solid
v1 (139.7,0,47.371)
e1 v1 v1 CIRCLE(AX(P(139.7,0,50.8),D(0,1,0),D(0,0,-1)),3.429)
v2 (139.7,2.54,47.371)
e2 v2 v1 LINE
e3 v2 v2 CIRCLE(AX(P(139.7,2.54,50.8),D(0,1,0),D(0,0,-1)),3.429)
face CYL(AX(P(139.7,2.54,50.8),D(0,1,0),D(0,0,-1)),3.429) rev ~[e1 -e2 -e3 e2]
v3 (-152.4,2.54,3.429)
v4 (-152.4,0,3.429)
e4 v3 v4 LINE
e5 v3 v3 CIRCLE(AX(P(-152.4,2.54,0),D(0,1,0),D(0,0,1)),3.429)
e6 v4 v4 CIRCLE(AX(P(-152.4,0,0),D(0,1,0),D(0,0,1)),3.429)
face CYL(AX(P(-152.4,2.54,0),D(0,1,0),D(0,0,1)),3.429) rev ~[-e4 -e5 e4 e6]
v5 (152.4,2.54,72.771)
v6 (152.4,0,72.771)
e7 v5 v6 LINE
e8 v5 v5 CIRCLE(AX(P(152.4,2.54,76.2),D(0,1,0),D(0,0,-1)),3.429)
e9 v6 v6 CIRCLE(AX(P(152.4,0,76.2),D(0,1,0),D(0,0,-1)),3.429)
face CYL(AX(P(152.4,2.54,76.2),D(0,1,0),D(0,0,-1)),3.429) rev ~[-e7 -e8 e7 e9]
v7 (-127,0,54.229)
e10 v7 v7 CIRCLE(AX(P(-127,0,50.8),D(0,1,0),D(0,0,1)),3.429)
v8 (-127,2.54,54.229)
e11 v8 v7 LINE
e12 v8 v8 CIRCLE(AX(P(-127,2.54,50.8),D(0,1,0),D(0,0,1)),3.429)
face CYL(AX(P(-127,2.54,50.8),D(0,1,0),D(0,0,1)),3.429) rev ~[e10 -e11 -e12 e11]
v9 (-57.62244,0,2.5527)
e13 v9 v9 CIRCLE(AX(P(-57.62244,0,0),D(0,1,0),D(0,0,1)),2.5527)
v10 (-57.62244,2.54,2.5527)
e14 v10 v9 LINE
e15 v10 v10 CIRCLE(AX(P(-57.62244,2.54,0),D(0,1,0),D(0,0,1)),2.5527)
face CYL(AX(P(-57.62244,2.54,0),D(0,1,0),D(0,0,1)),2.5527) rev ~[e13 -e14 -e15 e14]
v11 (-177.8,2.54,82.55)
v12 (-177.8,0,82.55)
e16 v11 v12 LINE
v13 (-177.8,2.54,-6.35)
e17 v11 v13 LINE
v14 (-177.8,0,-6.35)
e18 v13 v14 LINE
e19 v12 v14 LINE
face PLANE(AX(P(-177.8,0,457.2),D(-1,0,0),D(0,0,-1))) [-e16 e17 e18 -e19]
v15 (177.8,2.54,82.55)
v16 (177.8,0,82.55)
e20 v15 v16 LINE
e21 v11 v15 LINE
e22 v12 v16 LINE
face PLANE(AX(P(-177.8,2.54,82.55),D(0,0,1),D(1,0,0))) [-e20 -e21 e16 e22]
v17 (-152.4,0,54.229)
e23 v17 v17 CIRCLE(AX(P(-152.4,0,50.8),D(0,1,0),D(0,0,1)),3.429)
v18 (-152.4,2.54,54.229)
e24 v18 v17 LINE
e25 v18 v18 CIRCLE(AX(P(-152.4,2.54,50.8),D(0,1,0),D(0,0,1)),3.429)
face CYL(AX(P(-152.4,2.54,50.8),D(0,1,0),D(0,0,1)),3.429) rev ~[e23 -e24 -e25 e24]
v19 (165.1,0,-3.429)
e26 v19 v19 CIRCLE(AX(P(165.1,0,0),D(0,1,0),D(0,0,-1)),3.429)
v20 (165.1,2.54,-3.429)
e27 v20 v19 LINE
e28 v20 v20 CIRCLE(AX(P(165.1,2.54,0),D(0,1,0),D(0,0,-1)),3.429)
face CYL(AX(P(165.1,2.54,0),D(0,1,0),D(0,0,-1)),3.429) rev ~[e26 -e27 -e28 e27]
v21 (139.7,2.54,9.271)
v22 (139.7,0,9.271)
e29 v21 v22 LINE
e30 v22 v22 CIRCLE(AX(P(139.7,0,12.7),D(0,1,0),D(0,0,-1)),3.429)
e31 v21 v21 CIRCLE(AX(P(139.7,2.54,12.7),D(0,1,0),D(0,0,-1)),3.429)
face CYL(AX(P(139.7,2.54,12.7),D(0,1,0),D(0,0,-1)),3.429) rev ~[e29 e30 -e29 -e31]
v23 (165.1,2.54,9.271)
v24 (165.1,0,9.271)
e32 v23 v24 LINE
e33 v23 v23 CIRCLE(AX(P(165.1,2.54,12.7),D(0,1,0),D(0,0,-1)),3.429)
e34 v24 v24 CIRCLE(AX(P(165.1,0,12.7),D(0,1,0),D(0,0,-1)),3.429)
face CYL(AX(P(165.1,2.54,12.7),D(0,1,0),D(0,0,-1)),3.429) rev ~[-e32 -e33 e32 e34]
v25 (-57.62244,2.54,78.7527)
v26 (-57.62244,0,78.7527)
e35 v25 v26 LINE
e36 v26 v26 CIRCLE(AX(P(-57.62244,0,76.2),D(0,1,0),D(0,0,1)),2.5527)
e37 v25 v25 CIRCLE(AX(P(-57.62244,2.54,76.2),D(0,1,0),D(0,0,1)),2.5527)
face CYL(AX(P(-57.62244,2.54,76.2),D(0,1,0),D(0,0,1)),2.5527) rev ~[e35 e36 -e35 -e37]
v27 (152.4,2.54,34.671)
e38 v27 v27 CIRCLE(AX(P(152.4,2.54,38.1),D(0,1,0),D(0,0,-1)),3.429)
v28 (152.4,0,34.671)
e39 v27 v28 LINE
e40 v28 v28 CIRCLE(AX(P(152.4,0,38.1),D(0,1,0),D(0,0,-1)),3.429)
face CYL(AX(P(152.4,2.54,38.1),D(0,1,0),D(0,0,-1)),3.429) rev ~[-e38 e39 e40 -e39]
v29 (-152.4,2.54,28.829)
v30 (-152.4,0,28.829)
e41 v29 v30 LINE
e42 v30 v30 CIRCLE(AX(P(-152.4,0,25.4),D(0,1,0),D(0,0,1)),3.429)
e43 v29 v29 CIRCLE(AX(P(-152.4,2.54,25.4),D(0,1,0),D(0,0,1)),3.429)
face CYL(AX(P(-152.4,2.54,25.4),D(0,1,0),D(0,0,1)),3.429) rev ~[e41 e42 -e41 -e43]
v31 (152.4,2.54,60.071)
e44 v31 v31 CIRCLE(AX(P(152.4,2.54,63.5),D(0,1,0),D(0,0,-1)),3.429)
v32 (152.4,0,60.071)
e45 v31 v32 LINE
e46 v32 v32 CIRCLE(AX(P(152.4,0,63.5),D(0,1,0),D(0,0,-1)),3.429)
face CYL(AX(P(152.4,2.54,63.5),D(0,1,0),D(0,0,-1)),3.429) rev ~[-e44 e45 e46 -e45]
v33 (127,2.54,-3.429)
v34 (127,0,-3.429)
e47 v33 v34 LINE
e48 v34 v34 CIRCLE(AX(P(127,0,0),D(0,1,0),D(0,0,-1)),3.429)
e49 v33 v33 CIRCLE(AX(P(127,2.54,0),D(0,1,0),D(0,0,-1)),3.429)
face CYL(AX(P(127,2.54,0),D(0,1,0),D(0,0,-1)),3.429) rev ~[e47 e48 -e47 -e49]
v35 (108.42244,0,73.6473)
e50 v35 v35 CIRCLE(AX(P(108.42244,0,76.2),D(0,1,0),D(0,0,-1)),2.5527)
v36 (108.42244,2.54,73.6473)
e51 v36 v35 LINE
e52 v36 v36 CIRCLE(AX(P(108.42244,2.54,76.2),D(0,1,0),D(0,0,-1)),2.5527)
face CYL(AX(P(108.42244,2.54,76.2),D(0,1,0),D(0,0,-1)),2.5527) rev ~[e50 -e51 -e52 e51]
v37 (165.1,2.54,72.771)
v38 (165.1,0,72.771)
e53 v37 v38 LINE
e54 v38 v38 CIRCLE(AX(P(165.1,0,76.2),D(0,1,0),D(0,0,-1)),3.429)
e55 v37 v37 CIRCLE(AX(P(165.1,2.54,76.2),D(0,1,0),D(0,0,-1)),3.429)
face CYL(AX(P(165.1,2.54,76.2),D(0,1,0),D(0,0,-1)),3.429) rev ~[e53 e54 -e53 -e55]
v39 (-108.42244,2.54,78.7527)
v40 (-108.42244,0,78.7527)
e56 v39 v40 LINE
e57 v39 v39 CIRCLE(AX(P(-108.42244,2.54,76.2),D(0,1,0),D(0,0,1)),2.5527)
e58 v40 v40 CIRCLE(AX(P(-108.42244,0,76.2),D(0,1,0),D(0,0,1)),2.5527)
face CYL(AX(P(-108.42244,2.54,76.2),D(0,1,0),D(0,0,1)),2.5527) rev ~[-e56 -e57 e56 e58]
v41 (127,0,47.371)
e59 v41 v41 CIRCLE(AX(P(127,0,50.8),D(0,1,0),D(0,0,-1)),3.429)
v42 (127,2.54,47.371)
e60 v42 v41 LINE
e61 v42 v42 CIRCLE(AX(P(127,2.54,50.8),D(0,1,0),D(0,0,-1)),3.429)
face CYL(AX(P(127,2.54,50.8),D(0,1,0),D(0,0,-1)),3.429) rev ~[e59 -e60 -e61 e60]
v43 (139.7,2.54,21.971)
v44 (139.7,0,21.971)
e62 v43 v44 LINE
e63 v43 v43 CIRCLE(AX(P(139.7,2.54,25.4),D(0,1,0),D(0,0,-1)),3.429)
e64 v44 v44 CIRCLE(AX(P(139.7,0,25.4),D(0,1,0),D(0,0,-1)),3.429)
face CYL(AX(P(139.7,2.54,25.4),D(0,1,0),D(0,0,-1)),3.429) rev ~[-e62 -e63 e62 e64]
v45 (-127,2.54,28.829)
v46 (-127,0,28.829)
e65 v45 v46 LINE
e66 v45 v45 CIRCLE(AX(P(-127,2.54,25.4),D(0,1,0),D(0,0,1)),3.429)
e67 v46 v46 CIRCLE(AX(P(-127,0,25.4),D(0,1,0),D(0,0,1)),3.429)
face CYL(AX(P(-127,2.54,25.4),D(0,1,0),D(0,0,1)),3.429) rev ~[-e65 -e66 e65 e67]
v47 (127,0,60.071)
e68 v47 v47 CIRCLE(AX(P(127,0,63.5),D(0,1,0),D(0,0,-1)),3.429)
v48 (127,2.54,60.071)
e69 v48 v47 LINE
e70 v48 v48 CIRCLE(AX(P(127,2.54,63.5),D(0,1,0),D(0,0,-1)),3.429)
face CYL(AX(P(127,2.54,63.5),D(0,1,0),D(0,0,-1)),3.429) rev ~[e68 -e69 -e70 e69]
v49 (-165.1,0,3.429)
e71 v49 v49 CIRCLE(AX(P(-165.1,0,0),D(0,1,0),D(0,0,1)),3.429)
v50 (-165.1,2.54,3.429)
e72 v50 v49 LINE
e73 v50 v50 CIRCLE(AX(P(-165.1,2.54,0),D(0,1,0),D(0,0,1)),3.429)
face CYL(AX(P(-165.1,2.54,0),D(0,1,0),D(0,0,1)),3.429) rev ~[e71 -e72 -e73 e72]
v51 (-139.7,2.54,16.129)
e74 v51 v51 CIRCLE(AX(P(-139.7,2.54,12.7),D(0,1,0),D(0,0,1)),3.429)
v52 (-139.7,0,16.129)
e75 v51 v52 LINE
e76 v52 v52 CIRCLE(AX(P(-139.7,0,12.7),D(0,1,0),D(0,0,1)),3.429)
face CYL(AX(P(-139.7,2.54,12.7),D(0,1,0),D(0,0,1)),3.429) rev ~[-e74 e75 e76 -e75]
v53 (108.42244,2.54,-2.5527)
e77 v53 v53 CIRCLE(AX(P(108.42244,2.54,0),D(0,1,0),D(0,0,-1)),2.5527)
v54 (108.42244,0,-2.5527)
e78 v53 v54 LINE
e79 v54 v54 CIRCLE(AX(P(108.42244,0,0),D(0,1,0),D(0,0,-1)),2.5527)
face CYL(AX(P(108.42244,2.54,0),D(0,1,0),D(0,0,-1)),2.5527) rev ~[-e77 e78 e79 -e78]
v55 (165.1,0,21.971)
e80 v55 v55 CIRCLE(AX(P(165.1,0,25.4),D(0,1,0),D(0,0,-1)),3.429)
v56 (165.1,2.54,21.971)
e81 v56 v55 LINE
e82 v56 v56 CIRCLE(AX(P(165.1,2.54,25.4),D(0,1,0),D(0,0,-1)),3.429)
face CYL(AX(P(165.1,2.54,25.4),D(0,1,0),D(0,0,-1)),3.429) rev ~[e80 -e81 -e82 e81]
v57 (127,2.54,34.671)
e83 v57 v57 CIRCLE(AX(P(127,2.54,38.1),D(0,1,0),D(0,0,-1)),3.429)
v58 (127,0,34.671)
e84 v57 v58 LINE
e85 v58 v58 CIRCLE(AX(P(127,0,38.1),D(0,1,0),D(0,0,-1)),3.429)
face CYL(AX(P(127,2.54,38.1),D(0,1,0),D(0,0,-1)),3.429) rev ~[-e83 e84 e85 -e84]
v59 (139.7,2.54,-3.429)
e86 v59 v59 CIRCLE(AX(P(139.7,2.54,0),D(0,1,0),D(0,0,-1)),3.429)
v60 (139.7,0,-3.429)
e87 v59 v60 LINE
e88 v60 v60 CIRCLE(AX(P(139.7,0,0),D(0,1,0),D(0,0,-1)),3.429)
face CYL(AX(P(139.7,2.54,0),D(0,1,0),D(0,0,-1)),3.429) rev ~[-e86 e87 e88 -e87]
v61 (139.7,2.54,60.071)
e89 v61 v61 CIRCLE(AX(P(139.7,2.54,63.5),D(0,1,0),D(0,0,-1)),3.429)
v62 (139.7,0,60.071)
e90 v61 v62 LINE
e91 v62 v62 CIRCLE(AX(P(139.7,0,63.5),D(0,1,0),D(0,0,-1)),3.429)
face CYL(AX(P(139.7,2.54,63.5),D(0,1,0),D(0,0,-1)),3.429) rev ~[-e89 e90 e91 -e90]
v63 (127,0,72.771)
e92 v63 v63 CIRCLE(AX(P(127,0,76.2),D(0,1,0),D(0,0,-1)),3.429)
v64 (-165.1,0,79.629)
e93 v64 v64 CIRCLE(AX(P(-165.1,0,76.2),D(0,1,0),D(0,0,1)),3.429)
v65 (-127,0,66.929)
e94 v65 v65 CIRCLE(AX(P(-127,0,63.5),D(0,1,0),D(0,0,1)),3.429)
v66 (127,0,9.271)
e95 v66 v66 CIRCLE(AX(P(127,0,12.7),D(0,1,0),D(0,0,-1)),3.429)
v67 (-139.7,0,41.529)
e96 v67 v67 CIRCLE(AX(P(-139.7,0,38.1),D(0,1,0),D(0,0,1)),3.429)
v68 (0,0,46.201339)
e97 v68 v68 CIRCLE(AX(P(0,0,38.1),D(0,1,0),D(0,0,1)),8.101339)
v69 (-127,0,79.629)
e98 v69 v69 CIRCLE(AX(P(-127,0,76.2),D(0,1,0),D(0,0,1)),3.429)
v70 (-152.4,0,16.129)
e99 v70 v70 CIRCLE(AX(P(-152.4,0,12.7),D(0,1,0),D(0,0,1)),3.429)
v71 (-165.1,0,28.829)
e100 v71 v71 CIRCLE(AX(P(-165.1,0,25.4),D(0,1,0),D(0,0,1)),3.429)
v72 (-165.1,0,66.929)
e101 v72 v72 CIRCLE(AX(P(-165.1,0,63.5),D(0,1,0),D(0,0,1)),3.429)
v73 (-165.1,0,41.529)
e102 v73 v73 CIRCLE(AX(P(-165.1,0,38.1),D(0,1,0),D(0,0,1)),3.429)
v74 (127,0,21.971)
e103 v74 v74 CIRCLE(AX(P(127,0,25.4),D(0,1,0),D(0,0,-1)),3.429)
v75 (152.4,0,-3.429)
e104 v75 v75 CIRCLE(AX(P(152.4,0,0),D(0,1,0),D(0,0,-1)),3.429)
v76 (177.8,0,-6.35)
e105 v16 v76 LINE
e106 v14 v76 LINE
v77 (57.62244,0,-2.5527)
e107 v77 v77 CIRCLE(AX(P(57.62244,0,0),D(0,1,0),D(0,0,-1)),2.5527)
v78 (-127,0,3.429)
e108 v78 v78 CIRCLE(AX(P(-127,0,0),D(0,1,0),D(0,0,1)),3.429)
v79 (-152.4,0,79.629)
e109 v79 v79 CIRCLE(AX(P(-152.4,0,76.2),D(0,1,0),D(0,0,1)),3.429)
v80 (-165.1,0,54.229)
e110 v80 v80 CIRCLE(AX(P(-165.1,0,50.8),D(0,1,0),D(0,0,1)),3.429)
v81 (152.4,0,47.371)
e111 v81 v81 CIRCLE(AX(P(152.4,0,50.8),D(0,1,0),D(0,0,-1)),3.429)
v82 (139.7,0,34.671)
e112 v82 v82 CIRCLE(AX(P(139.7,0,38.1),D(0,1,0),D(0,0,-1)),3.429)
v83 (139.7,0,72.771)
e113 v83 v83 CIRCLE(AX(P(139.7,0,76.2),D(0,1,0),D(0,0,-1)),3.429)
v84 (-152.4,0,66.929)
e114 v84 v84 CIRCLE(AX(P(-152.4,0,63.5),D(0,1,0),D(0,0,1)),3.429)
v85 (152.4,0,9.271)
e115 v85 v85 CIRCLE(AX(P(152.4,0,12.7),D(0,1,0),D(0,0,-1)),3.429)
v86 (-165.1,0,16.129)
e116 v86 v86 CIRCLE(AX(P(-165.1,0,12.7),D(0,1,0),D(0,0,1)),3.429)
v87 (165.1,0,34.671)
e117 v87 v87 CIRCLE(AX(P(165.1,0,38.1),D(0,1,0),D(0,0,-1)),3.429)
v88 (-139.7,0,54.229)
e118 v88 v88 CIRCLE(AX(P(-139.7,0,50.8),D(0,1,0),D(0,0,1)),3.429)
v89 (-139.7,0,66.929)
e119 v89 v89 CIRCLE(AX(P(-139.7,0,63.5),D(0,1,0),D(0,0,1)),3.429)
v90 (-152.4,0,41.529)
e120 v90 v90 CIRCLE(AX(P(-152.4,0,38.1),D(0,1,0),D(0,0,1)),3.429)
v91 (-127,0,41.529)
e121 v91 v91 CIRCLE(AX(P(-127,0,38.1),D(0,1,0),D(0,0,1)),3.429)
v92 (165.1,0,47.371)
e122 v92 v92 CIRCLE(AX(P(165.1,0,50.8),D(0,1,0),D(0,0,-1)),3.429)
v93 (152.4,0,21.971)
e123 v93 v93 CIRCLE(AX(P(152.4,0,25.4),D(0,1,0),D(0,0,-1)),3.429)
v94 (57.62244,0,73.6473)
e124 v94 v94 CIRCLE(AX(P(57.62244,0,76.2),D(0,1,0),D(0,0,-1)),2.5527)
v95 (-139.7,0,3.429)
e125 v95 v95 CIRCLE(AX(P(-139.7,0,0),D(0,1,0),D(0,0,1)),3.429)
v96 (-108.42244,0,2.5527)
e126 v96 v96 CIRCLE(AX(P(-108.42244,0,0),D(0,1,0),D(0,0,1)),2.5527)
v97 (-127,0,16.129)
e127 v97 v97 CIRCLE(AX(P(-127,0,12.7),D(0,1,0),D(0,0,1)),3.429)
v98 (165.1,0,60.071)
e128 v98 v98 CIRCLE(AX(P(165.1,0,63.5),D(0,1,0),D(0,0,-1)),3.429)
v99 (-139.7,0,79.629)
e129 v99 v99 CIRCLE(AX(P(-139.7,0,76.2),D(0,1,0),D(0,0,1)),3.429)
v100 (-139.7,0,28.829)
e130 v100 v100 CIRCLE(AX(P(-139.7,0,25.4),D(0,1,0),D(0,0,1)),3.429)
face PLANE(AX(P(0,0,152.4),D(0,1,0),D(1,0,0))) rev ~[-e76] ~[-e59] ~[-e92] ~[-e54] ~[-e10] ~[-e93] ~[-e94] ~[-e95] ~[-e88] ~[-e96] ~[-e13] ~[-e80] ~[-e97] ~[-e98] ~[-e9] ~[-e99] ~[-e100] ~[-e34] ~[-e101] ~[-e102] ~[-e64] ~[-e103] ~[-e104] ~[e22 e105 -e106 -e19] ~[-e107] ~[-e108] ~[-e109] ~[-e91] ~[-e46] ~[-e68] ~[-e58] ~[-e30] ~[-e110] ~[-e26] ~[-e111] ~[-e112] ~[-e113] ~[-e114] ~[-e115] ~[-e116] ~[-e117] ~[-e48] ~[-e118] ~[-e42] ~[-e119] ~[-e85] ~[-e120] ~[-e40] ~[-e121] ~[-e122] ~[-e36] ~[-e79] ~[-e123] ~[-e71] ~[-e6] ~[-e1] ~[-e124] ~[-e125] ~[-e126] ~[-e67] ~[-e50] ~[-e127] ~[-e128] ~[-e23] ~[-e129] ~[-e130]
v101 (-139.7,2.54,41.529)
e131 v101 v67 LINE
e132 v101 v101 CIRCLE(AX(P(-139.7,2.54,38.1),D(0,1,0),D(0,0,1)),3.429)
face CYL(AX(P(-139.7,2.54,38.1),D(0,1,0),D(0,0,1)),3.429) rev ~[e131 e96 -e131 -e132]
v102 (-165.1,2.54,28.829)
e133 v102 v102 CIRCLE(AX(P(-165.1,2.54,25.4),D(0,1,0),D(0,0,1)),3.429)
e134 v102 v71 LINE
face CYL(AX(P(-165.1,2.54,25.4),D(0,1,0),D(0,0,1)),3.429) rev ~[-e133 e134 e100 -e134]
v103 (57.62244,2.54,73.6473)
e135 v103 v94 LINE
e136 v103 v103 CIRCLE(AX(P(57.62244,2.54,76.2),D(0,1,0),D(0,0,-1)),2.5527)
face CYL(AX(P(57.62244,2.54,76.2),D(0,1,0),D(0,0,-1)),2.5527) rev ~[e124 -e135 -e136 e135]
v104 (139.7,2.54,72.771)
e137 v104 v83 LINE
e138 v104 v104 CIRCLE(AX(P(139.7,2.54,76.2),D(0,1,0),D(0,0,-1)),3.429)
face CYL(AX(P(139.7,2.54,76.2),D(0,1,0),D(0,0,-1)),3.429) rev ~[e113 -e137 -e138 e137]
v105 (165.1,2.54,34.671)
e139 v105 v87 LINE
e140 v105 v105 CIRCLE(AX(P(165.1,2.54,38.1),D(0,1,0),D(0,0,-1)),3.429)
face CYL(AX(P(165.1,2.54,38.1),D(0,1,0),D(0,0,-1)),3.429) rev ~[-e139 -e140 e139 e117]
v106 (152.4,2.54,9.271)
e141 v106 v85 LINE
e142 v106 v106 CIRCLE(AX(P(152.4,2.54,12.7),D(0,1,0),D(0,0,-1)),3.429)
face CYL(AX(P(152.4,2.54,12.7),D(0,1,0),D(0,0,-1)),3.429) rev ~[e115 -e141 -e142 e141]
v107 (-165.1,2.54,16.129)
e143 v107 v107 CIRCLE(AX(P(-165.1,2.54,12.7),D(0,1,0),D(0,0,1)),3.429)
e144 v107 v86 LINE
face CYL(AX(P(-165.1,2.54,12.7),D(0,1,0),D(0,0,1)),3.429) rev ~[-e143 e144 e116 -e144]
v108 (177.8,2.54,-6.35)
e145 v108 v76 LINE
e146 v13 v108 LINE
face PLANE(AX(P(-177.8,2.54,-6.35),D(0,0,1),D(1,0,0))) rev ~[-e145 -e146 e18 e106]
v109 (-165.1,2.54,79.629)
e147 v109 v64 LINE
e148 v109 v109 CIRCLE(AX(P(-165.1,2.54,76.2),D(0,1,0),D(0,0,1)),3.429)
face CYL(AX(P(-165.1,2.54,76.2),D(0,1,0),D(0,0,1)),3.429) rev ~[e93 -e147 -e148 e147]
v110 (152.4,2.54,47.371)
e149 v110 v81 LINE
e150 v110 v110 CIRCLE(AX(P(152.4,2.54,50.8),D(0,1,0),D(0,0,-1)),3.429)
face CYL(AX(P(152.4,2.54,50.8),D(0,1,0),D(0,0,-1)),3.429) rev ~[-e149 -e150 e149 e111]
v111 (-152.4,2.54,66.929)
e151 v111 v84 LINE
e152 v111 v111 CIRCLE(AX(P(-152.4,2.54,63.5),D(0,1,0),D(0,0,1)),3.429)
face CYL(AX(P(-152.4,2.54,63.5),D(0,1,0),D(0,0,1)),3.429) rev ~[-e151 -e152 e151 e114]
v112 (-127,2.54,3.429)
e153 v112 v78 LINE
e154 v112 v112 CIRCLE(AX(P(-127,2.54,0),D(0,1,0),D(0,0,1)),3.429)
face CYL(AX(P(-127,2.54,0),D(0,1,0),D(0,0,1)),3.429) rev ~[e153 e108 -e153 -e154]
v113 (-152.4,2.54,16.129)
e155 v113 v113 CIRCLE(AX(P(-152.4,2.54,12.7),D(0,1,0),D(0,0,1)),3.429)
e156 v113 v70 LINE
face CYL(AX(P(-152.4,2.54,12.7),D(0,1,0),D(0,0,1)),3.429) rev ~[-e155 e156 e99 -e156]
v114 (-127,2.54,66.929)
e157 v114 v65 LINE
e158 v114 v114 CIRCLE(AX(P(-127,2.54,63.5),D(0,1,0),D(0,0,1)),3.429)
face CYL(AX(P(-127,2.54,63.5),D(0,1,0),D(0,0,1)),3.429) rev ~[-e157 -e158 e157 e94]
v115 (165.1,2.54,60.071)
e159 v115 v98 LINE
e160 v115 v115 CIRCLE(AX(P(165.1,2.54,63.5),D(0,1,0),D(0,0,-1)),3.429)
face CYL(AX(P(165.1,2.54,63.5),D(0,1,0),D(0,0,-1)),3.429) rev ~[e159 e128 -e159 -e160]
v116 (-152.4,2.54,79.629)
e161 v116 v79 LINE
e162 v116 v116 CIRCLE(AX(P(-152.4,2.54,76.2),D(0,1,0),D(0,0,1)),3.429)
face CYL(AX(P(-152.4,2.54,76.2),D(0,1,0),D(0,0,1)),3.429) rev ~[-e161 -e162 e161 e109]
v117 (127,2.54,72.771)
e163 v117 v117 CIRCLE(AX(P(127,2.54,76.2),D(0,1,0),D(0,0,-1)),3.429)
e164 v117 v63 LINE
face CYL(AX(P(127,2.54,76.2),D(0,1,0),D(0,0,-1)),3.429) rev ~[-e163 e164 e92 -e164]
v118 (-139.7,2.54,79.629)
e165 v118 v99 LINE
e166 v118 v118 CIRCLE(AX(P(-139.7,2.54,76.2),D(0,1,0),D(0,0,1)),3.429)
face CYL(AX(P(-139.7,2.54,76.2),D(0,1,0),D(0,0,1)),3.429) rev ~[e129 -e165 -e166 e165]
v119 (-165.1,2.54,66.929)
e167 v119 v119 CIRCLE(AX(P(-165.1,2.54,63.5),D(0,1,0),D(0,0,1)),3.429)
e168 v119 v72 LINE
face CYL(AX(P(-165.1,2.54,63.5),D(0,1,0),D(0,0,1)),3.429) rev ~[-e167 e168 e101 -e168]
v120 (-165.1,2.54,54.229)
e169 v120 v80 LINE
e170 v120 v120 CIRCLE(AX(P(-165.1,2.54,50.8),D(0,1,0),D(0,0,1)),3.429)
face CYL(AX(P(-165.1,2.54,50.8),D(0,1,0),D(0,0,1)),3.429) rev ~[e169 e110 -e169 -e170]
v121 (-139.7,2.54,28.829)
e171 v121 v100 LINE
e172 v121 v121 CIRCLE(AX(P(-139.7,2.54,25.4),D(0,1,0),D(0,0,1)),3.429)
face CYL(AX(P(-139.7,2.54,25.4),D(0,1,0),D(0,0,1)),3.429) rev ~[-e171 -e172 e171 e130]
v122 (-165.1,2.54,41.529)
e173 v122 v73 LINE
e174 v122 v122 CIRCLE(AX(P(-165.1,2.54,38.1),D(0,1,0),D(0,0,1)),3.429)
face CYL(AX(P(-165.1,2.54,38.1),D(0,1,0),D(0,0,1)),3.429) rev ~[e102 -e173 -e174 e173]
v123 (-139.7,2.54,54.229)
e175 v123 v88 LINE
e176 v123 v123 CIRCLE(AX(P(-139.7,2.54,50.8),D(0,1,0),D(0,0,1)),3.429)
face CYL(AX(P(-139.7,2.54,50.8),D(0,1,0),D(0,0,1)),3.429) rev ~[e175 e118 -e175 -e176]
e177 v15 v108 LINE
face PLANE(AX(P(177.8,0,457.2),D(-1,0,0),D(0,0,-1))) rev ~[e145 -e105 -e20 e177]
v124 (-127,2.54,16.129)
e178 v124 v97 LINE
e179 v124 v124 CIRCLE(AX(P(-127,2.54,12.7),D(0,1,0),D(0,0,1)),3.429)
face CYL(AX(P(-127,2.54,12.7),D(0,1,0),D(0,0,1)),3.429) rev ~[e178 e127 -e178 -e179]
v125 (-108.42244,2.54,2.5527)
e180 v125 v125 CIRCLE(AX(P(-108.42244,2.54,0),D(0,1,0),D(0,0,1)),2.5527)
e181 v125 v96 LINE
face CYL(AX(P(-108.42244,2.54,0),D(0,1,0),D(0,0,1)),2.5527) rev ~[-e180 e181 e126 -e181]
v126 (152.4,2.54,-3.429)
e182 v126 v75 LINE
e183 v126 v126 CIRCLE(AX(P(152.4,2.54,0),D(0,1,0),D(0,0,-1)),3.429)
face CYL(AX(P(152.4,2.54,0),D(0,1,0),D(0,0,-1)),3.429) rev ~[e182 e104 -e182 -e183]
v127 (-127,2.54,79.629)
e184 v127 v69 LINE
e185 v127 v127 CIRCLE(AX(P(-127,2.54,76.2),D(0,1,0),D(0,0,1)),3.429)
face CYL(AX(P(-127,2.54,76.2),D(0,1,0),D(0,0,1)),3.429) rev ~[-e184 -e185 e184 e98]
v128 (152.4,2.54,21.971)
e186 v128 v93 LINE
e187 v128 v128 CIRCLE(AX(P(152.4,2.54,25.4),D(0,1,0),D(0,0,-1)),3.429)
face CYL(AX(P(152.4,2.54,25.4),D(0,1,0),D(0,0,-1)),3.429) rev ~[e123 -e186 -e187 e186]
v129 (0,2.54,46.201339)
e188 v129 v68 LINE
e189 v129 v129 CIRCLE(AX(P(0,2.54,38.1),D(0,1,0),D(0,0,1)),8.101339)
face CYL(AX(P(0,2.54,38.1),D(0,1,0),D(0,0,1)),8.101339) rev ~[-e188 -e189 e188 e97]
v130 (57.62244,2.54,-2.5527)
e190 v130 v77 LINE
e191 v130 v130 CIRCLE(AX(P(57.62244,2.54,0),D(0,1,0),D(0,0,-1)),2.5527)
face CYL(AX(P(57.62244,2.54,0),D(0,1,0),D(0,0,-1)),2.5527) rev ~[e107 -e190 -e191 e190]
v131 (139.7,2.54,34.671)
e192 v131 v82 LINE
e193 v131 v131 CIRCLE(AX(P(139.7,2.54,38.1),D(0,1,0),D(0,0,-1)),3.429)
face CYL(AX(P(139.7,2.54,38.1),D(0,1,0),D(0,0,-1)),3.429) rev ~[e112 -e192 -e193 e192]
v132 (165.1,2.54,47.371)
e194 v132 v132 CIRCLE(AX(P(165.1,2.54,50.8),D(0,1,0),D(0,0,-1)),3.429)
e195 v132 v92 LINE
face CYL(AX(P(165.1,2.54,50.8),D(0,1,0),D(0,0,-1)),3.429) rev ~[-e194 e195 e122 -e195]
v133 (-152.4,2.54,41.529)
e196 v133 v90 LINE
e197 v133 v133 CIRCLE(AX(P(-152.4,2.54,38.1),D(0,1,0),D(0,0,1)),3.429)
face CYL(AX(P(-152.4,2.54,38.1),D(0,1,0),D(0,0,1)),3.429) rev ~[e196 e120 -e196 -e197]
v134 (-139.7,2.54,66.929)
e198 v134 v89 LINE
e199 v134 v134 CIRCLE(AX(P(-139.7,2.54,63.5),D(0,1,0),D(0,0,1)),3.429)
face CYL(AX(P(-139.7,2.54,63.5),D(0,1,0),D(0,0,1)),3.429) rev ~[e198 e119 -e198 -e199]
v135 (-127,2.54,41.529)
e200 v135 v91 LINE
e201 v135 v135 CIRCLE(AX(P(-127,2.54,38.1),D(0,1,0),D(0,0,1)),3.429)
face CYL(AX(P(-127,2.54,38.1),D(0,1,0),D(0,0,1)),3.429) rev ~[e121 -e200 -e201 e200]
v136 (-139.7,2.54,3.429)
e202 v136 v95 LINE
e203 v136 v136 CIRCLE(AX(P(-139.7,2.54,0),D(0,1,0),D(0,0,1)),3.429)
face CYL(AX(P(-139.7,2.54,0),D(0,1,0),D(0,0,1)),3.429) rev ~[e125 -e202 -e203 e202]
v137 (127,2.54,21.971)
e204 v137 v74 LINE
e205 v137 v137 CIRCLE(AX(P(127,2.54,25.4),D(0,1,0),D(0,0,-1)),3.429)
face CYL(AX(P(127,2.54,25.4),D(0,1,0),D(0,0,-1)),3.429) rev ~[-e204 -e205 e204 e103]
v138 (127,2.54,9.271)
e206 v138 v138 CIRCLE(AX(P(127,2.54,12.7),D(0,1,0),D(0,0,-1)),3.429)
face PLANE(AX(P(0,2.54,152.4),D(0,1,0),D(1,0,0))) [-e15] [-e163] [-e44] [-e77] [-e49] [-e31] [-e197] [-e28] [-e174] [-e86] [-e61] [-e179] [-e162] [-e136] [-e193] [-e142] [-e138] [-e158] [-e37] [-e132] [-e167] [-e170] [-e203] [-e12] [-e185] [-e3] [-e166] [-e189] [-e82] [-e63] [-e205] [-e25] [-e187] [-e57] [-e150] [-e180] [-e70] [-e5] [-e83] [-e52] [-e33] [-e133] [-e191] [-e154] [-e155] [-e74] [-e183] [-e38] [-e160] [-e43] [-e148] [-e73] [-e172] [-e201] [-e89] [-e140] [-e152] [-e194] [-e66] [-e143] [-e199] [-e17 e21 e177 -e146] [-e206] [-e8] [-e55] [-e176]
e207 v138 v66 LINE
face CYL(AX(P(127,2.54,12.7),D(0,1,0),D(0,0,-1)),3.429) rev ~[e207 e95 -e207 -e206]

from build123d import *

# Parameters (mm, degrees)
SKETCH1_W           = 355.6
SKETCH1_H           = 609.6
BOSS_EXTRUDE1_DEPTH = 2.54
SKETCH2_R           = 2.5527
SKETCH2_R_2         = 3.429
SKETCH2_W           = 355.6
SKETCH2_H           = 146.05
SKETCH2_H_2         = 374.65
CUT_EXTRUDE1_DEPTH  = 491.562056829
SKETCH3_R           = 8.101339051
CUT_EXTRUDE2_DEPTH  = 197.045387857


with BuildPart() as part:
    # Sketch1 → Boss-Extrude1 (new body)
    with BuildSketch(Plane(origin=(0, 0, 0), x_dir=(1, 0, 0), z_dir=(0, 1, 0))):
        with Locations((0, -152.4)):
            Rectangle(SKETCH1_W, SKETCH1_H)
    extrude(amount=BOSS_EXTRUDE1_DEPTH)

    # Sketch2 → Cut-Extrude1 (cut, through all)
    with BuildSketch(Plane(origin=(0, 2.54, 0), x_dir=(1, 0, 0), z_dir=(0, 1, 0))):
        with Locations(Location((-108.42244, 0, 0), (0, 0, 270))):
            Circle(SKETCH2_R)
        with Locations(Location((-57.62244, 0, 0), (0, 0, 270))):
            Circle(SKETCH2_R)
        with Locations(Location((-57.62244, -76.2, 0), (0, 0, 270))):
            Circle(SKETCH2_R)
        with Locations(Location((-108.42244, -76.2, 0), (0, 0, 270))):
            Circle(SKETCH2_R)
        with Locations(Location((108.42244, -76.2, 0), (0, 0, 90))):
            Circle(SKETCH2_R)
        with Locations(Location((57.62244, -76.2, 0), (0, 0, 90))):
            Circle(SKETCH2_R)
        with Locations(Location((57.62244, 0, 0), (0, 0, 90))):
            Circle(SKETCH2_R)
        with Locations(Location((108.42244, 0, 0), (0, 0, 90))):
            Circle(SKETCH2_R)
        with Locations(Location((-139.7, 0, 0), (0, 0, 270))):
            Circle(SKETCH2_R_2)
        with Locations(Location((-127, 0, 0), (0, 0, 270))):
            Circle(SKETCH2_R_2)
        with Locations(Location((-139.7, -12.7, 0), (0, 0, 270))):
            Circle(SKETCH2_R_2)
        with Locations(Location((-127, -12.7, 0), (0, 0, 270))):
            Circle(SKETCH2_R_2)
        with Locations(Location((-139.7, -25.4, 0), (0, 0, 270))):
            Circle(SKETCH2_R_2)
        with Locations(Location((-127, -25.4, 0), (0, 0, 270))):
            Circle(SKETCH2_R_2)
        with Locations(Location((-139.7, -38.1, 0), (0, 0, 270))):
            Circle(SKETCH2_R_2)
        with Locations(Location((-127, -38.1, 0), (0, 0, 270))):
            Circle(SKETCH2_R_2)
        with Locations(Location((-139.7, -50.8, 0), (0, 0, 270))):
            Circle(SKETCH2_R_2)
        with Locations(Location((-127, -50.8, 0), (0, 0, 270))):
            Circle(SKETCH2_R_2)
        with Locations(Location((-139.7, -63.5, 0), (0, 0, 270))):
            Circle(SKETCH2_R_2)
        with Locations(Location((-165.1, 0, 0), (0, 0, 270))):
            Circle(SKETCH2_R_2)
        with Locations(Location((-152.4, 0, 0), (0, 0, 270))):
            Circle(SKETCH2_R_2)
        with Locations(Location((-152.4, -12.7, 0), (0, 0, 270))):
            Circle(SKETCH2_R_2)
        with Locations(Location((-152.4, -25.4, 0), (0, 0, 270))):
            Circle(SKETCH2_R_2)
        with Locations(Location((-152.4, -38.1, 0), (0, 0, 270))):
            Circle(SKETCH2_R_2)
        with Locations(Location((-152.4, -50.8, 0), (0, 0, 270))):
            Circle(SKETCH2_R_2)
        with Locations(Location((-152.4, -63.5, 0), (0, 0, 270))):
            Circle(SKETCH2_R_2)
        with Locations(Location((-152.4, -76.2, 0), (0, 0, 270))):
            Circle(SKETCH2_R_2)
        with Locations(Location((-165.1, -12.7, 0), (0, 0, 270))):
            Circle(SKETCH2_R_2)
        with Locations(Location((-165.1, -25.4, 0), (0, 0, 270))):
            Circle(SKETCH2_R_2)
        with Locations(Location((-165.1, -38.1, 0), (0, 0, 270))):
            Circle(SKETCH2_R_2)
        with Locations(Location((-165.1, -50.8, 0), (0, 0, 270))):
            Circle(SKETCH2_R_2)
        with Locations(Location((-165.1, -63.5, 0), (0, 0, 270))):
            Circle(SKETCH2_R_2)
        with Locations(Location((-165.1, -76.2, 0), (0, 0, 270))):
            Circle(SKETCH2_R_2)
        with Locations(Location((-127, -63.5, 0), (0, 0, 270))):
            Circle(SKETCH2_R_2)
        with Locations(Location((-139.7, -76.2, 0), (0, 0, 270))):
            Circle(SKETCH2_R_2)
        with Locations(Location((-127, -76.2, 0), (0, 0, 270))):
            Circle(SKETCH2_R_2)
        with Locations(Location((127, -76.2, 0), (0, 0, 90))):
            Circle(SKETCH2_R_2)
        with Locations(Location((139.7, -76.2, 0), (0, 0, 90))):
            Circle(SKETCH2_R_2)
        with Locations(Location((127, -63.5, 0), (0, 0, 90))):
            Circle(SKETCH2_R_2)
        with Locations(Location((165.1, -76.2, 0), (0, 0, 90))):
            Circle(SKETCH2_R_2)
        with Locations(Location((165.1, -63.5, 0), (0, 0, 90))):
            Circle(SKETCH2_R_2)
        with Locations(Location((165.1, -50.8, 0), (0, 0, 90))):
            Circle(SKETCH2_R_2)
        with Locations(Location((165.1, -38.1, 0), (0, 0, 90))):
            Circle(SKETCH2_R_2)
        with Locations(Location((165.1, -25.4, 0), (0, 0, 90))):
            Circle(SKETCH2_R_2)
        with Locations(Location((165.1, -12.7, 0), (0, 0, 90))):
            Circle(SKETCH2_R_2)
        with Locations(Location((152.4, -76.2, 0), (0, 0, 90))):
            Circle(SKETCH2_R_2)
        with Locations(Location((152.4, -63.5, 0), (0, 0, 90))):
            Circle(SKETCH2_R_2)
        with Locations(Location((152.4, -50.8, 0), (0, 0, 90))):
            Circle(SKETCH2_R_2)
        with Locations(Location((152.4, -38.1, 0), (0, 0, 90))):
            Circle(SKETCH2_R_2)
        with Locations(Location((152.4, -25.4, 0), (0, 0, 90))):
            Circle(SKETCH2_R_2)
        with Locations(Location((152.4, -12.7, 0), (0, 0, 90))):
            Circle(SKETCH2_R_2)
        with Locations(Location((152.4, 0, 0), (0, 0, 90))):
            Circle(SKETCH2_R_2)
        with Locations(Location((165.1, 0, 0), (0, 0, 90))):
            Circle(SKETCH2_R_2)
        with Locations(Location((139.7, -63.5, 0), (0, 0, 90))):
            Circle(SKETCH2_R_2)
        with Locations(Location((127, -50.8, 0), (0, 0, 90))):
            Circle(SKETCH2_R_2)
        with Locations(Location((139.7, -50.8, 0), (0, 0, 90))):
            Circle(SKETCH2_R_2)
        with Locations(Location((127, -38.1, 0), (0, 0, 90))):
            Circle(SKETCH2_R_2)
        with Locations(Location((139.7, -38.1, 0), (0, 0, 90))):
            Circle(SKETCH2_R_2)
        with Locations(Location((127, -25.4, 0), (0, 0, 90))):
            Circle(SKETCH2_R_2)
        with Locations(Location((139.7, -25.4, 0), (0, 0, 90))):
            Circle(SKETCH2_R_2)
        with Locations(Location((127, -12.7, 0), (0, 0, 90))):
            Circle(SKETCH2_R_2)
        with Locations(Location((139.7, -12.7, 0), (0, 0, 90))):
            Circle(SKETCH2_R_2)
        with Locations(Location((127, 0, 0), (0, 0, 90))):
            Circle(SKETCH2_R_2)
        with Locations(Location((139.7, 0, 0), (0, 0, 90))):
            Circle(SKETCH2_R_2)
        with Locations((0, 79.375)):
            Rectangle(SKETCH2_W, SKETCH2_H)
        with Locations((0, -269.875)):
            Rectangle(SKETCH2_W, SKETCH2_H_2)
    extrude(amount=-CUT_EXTRUDE1_DEPTH, mode=Mode.SUBTRACT)

    # Sketch3 → Cut-Extrude2 (cut, through all)
    with BuildSketch(Plane(origin=(0, 2.54, 0), x_dir=(1, 0, 0), z_dir=(0, 1, 0))):
        with Locations(Location((0, -38.1, 0), (0, 0, 270))):
            Circle(SKETCH3_R)
    extrude(amount=-CUT_EXTRUDE2_DEPTH, mode=Mode.SUBTRACT)


solid = part.part
